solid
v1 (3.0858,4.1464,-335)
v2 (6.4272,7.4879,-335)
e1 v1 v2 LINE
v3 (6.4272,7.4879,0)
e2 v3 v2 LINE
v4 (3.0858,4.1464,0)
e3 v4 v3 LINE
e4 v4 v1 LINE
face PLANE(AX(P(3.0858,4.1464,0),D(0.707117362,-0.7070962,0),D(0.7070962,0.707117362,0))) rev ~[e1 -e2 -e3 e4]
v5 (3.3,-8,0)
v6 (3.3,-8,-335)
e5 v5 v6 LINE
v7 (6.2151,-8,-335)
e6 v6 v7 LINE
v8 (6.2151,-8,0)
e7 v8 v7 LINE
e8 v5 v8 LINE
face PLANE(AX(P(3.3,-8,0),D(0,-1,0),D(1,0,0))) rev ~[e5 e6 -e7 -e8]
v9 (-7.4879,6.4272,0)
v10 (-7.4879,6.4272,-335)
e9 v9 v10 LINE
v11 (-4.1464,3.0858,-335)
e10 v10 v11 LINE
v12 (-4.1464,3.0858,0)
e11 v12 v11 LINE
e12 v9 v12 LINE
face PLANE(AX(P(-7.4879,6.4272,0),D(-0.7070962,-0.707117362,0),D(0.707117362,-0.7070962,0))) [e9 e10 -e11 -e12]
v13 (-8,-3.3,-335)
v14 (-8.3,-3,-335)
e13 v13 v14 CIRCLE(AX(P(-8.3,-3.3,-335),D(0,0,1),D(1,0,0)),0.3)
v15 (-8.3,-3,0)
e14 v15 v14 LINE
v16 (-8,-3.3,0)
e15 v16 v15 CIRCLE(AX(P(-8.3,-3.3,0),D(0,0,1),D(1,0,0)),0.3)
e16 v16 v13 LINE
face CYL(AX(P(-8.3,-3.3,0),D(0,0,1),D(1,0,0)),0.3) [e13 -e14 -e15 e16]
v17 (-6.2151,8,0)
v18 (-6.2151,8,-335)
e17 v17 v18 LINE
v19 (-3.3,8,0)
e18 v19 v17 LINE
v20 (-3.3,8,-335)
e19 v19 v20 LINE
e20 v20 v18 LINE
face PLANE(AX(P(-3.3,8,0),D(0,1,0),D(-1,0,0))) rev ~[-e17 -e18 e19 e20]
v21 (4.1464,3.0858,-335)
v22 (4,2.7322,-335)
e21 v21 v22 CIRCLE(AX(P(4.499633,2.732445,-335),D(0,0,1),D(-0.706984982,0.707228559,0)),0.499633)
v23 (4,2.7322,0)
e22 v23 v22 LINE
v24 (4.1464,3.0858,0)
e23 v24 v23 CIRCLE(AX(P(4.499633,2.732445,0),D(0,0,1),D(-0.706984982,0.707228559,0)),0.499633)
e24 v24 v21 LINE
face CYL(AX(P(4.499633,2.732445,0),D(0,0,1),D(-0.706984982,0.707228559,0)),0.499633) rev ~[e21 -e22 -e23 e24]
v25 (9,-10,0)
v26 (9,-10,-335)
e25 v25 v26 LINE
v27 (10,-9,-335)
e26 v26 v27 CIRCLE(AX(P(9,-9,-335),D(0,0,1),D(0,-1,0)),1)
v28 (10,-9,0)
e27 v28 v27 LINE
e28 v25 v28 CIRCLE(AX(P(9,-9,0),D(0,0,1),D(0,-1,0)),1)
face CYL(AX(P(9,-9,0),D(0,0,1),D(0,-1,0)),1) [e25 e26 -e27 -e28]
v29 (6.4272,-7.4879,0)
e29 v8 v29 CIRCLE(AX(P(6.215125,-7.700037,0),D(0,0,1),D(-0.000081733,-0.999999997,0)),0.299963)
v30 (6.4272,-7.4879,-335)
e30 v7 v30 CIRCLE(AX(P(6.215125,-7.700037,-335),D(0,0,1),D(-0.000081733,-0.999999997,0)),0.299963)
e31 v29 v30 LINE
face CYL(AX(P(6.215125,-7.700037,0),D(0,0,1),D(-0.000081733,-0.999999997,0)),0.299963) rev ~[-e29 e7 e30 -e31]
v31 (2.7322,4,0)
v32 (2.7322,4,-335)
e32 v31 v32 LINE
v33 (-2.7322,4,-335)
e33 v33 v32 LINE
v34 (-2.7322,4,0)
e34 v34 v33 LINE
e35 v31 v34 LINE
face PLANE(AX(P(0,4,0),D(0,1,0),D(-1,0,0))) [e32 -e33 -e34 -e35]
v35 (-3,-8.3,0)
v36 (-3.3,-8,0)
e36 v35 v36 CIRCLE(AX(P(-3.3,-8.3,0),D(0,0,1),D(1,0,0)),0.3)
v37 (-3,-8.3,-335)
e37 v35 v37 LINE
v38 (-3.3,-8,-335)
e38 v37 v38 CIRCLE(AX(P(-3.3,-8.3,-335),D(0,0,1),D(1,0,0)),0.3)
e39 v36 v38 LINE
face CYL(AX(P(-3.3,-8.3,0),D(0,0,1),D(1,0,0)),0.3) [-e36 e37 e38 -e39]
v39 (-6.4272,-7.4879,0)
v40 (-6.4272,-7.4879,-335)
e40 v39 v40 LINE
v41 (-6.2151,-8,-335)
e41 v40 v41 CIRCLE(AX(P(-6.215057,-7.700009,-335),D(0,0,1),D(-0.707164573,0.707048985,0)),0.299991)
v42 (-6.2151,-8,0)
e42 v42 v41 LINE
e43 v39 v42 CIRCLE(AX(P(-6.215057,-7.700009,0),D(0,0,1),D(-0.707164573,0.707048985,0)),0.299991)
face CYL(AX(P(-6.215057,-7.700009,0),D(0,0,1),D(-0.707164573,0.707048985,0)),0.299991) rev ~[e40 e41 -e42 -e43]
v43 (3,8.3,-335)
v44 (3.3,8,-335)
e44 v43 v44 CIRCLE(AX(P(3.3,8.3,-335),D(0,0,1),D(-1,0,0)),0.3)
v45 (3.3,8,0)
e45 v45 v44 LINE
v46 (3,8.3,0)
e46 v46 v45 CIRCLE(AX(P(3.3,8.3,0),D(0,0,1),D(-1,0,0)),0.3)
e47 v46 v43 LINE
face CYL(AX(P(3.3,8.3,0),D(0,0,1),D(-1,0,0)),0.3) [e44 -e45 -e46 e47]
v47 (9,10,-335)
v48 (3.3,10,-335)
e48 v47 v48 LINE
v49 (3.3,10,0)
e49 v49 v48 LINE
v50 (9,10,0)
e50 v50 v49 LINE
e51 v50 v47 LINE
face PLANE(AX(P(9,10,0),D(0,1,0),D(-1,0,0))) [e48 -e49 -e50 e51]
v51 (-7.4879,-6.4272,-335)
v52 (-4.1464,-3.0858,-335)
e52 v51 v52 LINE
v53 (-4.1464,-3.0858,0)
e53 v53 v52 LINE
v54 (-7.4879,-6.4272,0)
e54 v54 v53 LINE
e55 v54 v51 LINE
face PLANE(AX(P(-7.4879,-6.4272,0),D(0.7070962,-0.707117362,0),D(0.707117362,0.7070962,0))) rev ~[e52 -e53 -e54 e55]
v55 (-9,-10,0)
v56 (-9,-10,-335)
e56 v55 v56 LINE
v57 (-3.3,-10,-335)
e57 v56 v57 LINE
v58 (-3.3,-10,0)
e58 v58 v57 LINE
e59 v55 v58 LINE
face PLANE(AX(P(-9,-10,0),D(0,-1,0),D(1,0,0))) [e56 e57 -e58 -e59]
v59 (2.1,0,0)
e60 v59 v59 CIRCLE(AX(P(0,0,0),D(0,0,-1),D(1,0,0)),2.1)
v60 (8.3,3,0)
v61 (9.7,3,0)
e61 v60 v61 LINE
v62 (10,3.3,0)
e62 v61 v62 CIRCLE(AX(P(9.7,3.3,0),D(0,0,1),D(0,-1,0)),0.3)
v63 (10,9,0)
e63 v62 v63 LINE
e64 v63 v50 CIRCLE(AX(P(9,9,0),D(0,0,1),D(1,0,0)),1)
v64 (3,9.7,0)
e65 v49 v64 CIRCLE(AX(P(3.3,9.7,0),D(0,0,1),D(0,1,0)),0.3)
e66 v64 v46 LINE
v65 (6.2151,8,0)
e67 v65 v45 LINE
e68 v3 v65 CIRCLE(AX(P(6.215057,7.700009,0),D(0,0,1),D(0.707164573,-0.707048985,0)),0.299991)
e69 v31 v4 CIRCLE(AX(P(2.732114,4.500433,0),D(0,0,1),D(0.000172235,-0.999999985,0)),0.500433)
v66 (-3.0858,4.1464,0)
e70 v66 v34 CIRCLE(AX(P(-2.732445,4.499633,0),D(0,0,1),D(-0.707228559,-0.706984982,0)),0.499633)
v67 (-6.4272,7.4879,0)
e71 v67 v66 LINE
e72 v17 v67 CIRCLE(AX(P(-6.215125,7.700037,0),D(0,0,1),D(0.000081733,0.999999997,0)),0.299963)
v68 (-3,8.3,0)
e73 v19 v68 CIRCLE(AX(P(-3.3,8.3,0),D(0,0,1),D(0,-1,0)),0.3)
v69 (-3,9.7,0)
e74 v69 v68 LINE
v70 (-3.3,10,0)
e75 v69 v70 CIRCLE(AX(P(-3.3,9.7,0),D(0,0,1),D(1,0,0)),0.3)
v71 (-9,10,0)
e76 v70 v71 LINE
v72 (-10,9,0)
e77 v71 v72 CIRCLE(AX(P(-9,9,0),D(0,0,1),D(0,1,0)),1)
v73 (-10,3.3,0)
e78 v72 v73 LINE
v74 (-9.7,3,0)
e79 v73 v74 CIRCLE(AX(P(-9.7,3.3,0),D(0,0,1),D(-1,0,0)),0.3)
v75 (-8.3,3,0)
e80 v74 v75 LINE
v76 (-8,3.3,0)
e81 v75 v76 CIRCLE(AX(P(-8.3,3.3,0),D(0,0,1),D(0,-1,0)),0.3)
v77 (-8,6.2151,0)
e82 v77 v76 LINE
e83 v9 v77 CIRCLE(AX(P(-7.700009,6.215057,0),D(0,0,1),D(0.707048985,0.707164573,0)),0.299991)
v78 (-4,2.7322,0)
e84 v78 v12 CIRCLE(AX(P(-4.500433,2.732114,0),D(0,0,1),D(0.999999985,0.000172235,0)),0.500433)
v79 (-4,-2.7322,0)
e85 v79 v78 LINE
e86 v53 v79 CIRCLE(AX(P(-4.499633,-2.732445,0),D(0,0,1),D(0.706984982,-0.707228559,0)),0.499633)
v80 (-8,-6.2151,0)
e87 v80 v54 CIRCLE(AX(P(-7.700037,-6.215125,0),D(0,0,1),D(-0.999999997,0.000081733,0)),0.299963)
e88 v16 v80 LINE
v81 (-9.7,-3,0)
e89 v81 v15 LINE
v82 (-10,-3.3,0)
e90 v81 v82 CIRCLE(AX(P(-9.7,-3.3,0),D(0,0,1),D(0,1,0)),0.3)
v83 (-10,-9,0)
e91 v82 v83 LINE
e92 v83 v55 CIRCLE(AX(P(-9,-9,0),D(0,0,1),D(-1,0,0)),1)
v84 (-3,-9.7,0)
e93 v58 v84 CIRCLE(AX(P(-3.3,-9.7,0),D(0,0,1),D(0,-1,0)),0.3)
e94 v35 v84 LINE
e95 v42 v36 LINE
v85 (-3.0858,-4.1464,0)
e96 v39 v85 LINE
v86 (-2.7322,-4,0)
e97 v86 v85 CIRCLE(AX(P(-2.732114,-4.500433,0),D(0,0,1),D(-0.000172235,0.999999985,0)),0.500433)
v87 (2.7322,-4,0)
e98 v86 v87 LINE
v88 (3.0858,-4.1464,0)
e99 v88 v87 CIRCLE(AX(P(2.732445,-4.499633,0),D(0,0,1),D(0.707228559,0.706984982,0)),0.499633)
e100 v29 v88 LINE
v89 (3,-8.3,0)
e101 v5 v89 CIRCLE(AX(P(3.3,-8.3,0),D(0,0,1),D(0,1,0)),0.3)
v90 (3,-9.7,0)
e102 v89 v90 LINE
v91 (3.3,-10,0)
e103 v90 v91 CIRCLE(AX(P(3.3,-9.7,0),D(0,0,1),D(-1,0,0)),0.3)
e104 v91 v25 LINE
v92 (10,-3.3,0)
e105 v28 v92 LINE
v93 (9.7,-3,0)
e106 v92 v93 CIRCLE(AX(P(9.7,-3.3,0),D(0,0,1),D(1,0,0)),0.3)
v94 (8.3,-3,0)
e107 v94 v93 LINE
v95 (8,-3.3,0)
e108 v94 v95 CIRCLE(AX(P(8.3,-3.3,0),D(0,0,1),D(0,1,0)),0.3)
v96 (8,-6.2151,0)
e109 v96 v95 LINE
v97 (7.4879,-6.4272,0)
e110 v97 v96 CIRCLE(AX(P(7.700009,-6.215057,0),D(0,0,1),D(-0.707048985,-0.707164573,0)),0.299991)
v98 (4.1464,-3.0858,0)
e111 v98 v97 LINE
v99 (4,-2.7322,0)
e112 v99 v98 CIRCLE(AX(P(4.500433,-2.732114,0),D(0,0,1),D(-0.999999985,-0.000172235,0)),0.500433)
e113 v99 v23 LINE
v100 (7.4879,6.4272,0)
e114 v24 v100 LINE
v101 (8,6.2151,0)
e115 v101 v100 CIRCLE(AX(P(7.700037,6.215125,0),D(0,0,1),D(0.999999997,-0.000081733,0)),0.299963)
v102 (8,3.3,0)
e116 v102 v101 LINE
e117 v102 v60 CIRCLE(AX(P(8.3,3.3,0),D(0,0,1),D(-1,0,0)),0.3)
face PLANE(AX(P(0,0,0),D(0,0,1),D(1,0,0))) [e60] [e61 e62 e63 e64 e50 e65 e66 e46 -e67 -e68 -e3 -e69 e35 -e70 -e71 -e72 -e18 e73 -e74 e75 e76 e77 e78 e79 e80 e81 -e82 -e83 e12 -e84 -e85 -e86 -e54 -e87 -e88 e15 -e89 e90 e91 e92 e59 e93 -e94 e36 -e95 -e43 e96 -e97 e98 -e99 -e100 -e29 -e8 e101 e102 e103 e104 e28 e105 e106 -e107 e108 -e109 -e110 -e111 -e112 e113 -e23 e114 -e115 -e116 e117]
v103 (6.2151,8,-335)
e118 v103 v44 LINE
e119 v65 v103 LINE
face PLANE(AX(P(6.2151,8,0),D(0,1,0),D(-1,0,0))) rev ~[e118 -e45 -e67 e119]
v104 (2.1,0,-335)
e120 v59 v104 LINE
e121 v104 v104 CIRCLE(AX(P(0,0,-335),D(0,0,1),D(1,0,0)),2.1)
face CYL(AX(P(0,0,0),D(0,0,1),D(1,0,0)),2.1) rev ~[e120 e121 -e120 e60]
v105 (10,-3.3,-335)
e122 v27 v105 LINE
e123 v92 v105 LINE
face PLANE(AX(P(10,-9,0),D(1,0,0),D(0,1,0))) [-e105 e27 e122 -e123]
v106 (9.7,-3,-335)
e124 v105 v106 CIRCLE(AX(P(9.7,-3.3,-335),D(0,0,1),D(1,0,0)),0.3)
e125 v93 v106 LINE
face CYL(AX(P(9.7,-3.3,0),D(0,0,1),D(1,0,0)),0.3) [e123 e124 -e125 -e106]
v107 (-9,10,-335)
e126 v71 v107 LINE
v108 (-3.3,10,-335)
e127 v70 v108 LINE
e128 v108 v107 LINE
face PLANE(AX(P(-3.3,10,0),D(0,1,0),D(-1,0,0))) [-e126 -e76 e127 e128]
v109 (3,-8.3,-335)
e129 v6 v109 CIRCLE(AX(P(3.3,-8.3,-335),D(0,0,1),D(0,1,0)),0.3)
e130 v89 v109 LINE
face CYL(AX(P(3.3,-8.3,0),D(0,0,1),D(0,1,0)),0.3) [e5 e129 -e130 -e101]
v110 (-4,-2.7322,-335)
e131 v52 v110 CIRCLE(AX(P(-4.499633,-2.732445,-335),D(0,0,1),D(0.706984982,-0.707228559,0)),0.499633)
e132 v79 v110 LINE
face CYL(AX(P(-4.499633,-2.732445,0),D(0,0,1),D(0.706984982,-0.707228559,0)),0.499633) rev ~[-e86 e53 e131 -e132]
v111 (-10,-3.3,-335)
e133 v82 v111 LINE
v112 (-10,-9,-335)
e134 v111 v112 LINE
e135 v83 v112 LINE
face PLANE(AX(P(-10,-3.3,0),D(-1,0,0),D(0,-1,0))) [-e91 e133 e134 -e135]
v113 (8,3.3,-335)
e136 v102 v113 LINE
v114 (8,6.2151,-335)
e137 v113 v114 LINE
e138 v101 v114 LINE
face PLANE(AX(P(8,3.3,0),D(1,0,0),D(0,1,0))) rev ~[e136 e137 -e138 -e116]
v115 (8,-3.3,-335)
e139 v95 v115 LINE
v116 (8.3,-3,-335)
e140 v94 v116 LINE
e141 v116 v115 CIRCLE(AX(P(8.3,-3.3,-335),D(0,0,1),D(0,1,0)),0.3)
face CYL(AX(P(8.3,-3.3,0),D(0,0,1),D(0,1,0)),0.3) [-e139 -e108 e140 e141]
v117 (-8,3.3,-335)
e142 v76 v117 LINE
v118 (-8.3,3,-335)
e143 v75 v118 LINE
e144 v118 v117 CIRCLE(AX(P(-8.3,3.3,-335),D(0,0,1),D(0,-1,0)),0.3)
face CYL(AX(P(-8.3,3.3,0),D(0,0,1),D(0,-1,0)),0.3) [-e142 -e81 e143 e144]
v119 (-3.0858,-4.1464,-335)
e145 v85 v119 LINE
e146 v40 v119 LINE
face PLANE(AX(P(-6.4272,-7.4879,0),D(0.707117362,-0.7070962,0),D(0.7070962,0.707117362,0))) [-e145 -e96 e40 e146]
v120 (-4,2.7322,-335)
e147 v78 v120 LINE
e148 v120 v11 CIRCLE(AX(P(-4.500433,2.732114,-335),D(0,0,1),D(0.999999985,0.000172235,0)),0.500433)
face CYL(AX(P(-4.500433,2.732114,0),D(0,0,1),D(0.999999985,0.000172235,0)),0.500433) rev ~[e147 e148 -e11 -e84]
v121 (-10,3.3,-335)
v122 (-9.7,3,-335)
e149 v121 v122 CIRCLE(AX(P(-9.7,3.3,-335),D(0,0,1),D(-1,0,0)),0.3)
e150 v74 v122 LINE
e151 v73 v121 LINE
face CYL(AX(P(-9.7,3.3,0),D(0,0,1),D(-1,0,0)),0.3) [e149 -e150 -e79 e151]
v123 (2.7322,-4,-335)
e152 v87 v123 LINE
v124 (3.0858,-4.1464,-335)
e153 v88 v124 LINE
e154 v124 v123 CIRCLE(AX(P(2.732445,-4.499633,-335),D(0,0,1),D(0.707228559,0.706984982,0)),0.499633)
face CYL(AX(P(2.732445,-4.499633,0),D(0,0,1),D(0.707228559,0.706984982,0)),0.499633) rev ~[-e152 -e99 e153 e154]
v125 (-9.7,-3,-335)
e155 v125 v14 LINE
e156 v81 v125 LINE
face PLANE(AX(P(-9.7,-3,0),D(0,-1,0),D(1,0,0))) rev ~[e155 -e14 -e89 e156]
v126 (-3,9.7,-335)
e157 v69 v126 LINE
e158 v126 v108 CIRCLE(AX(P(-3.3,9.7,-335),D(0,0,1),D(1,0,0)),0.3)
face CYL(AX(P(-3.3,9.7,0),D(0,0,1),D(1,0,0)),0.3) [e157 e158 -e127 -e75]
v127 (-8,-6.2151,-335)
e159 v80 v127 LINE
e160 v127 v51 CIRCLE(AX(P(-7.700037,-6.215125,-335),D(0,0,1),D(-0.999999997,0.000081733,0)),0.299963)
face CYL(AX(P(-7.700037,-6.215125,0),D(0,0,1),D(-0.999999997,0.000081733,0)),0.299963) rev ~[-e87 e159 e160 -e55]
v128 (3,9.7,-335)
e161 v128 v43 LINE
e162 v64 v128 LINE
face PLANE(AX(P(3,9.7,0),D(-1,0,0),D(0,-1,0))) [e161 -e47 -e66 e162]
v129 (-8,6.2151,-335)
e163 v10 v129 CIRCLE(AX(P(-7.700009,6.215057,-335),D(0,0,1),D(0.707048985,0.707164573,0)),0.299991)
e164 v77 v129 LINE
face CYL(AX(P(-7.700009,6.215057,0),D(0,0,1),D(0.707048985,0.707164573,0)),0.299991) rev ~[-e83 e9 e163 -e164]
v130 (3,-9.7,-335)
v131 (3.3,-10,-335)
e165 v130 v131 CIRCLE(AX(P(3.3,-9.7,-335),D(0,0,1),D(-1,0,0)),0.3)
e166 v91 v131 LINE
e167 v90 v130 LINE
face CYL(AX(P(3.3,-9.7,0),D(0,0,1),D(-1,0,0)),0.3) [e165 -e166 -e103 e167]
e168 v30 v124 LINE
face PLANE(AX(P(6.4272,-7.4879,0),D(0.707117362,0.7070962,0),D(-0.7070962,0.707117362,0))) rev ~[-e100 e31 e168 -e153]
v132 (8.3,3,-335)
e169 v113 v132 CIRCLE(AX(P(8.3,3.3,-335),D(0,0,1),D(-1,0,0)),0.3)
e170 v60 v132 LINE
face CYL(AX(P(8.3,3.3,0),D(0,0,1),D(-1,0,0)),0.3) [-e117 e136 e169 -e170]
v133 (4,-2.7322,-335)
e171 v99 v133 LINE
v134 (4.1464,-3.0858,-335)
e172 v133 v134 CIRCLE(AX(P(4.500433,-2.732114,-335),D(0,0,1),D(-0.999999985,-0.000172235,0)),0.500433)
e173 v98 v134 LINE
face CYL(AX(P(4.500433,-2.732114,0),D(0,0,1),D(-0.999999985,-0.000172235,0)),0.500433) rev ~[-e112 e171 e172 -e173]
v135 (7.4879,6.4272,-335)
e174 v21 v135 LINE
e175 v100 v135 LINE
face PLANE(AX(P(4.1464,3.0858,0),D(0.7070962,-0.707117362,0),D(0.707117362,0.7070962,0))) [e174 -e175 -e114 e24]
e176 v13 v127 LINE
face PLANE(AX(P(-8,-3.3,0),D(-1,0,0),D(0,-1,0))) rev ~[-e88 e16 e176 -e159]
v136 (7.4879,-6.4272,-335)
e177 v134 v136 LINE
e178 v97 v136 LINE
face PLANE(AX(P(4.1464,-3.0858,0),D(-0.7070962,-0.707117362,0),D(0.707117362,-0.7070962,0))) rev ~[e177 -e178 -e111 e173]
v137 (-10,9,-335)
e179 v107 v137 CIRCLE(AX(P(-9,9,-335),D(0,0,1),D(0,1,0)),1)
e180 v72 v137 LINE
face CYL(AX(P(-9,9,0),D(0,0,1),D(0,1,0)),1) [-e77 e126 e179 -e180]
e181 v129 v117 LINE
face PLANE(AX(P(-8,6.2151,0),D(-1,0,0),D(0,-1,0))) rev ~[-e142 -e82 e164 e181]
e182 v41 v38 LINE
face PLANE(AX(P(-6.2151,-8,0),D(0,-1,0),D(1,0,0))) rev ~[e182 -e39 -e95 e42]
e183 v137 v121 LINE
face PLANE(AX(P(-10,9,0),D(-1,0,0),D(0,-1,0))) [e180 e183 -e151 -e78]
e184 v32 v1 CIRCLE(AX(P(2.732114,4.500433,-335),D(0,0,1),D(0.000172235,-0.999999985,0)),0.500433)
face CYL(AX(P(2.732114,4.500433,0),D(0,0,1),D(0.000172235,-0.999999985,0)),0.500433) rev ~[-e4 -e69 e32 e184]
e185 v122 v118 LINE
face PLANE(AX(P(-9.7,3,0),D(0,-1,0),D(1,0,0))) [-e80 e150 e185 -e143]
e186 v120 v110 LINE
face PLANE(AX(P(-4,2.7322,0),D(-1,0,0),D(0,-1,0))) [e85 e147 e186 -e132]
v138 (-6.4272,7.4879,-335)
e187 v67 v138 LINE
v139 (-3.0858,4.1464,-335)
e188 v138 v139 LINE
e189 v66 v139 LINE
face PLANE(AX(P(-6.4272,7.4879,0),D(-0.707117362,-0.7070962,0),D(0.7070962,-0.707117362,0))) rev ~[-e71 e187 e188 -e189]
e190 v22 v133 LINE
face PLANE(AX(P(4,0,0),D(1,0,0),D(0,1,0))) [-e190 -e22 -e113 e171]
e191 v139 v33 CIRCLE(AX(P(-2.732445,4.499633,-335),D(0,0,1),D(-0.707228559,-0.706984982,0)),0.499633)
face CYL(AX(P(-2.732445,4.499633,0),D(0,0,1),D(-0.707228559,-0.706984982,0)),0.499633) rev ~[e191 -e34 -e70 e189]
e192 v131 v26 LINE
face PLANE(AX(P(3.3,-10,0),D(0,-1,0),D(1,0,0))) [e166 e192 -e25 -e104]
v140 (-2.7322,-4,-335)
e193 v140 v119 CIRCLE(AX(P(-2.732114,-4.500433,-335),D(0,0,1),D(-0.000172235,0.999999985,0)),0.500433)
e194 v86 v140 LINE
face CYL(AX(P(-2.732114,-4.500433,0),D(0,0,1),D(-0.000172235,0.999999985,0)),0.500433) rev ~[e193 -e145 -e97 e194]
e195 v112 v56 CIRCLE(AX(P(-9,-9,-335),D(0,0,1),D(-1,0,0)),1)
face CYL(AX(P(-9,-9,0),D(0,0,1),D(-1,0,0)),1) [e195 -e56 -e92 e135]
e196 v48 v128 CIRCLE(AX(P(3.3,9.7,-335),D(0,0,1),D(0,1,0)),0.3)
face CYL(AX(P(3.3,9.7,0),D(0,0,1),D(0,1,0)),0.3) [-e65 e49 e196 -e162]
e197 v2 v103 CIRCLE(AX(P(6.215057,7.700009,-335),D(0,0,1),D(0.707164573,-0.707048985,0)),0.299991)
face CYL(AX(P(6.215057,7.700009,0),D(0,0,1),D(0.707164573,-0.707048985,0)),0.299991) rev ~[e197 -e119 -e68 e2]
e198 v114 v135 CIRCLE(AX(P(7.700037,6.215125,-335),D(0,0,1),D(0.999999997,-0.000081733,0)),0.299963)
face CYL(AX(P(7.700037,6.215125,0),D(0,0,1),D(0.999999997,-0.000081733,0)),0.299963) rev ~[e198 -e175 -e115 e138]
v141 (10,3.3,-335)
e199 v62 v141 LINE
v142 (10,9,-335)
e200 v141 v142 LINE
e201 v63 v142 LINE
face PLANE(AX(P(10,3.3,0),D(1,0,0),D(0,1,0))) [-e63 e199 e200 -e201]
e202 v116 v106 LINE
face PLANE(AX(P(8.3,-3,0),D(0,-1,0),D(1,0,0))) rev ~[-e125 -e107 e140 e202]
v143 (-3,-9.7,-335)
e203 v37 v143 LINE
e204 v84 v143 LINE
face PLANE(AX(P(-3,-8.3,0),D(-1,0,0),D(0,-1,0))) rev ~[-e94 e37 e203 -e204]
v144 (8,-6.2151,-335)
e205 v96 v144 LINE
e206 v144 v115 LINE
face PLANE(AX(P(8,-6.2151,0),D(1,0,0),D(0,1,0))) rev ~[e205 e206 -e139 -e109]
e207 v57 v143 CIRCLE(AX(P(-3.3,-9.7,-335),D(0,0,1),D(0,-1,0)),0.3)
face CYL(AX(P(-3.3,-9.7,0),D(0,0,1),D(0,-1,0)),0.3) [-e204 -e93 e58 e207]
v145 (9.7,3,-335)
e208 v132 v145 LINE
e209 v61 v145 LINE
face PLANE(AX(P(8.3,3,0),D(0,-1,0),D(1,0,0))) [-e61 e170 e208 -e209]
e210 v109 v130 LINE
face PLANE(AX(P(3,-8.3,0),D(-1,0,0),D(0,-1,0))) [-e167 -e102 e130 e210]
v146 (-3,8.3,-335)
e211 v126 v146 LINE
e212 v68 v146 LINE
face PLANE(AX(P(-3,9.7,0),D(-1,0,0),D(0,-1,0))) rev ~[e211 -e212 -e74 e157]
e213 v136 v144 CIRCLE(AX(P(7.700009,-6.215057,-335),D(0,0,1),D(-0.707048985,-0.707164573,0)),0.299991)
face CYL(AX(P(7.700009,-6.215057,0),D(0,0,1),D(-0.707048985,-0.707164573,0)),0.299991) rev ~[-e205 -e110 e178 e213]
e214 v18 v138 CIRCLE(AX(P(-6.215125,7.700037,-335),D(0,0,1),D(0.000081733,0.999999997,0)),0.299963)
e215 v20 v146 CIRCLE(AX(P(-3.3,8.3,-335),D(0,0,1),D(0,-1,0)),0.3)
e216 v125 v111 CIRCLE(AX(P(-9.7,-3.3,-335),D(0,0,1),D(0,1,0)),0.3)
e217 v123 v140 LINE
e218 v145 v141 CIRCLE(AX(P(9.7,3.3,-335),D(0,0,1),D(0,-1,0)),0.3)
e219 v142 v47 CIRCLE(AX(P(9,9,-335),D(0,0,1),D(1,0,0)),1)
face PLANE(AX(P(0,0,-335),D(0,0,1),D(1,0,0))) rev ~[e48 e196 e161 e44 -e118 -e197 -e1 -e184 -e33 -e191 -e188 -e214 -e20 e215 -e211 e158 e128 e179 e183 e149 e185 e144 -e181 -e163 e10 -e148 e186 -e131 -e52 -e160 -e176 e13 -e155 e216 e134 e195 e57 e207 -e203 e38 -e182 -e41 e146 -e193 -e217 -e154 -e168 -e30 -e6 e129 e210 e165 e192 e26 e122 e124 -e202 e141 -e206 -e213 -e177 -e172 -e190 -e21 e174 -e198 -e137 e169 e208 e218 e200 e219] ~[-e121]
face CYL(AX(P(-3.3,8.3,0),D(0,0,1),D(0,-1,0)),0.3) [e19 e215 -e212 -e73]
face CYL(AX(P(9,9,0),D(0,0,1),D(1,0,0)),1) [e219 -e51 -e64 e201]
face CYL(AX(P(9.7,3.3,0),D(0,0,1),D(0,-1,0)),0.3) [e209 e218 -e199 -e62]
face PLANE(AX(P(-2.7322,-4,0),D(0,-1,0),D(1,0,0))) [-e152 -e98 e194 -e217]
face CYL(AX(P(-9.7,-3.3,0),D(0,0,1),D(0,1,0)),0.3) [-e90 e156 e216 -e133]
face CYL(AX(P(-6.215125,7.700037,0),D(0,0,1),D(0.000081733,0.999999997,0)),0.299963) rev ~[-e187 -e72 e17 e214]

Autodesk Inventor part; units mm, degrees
ref_plane "YZ Plane" through (0, 0, 0) normal (1, 0, 0) x (0, 1, 0)
ref_plane "XZ Plane" through (0, 0, 0) normal (0, 1, 0) x (-1, 0, 0)
ref_plane "XY Plane" through (0, 0, 0) normal (0, 0, 1) x (1, 0, 0)
sketch "Skizze1" plane through (0, 0, 0) normal (0, 0, 1) x (1, 0, 0)
  line L0 (-20.0059, 0) -> (20.0059, 0) projected
  line L1 (0, -20.0059) -> (0, 20.0059) projected
  line L2 (-14.2899, 0) -> (14.2899, 0)
  line L3 (0, -14.2899) -> (0, 14.2899)
  line L4 (-10, -10) -> (10, 10) construction
  line L5 (10, -10) -> (-10, 10) construction
  line L6 (-8, -8) -> (8, 8) construction
  line L7 (8, -8) -> (-8, 8) construction
  line L8 (-2.7322, -4) -> (2.7322, -4)
  line L9 (4, -2.7322) -> (4, 2.7322)
  line L10 (2.7322, 4) -> (-2.7322, 4)
  line L11 (-4, 2.7322) -> (-4, -2.7322)
  line L12 (-4, -4) -> (4, 4) construction
  line L13 (4, -4) -> (-4, 4) construction
  arc A0 (-9, 10) -> (-10, 9) centre (-9, 9) ccw
  arc A1 (10, 9) -> (9, 10) centre (9, 9) ccw
  arc A2 (9, -10) -> (10, -9) centre (9, -9) ccw
  arc A3 (-10, -9) -> (-9, -10) centre (-9, -9) ccw
  line L14 (-3, 9.7) -> (-3, 8.3)
  line L15 (3, 9.7) -> (3, 8.3)
  line L16 (6.2151, 8) -> (3.3, 8)
  line L17 (-3.3, 8) -> (-6.2151, 8)
  line L18 (9, 10) -> (3.3, 10)
  line L19 (-3.3, 10) -> (-9, 10)
  line L20 (-9.7, -3) -> (-8.3, -3)
  line L21 (-9.7, 3) -> (-8.3, 3)
  line L22 (-8, 6.2151) -> (-8, 3.3)
  line L23 (-8, -3.3) -> (-8, -6.2151)
  line L24 (-10, 9) -> (-10, 3.3)
  line L25 (-10, -3.3) -> (-10, -9)
  line L26 (-3, -8.3) -> (-3, -9.7)
  line L27 (3, -8.3) -> (3, -9.7)
  line L28 (-9, -10) -> (-3.3, -10)
  line L29 (3.3, -10) -> (9, -10)
  line L30 (-6.2151, -8) -> (-3.3, -8)
  line L31 (3.3, -8) -> (6.2151, -8)
  line L32 (8.3, 3) -> (9.7, 3)
  line L33 (8.3, -3) -> (9.7, -3)
  line L34 (8, -6.2151) -> (8, -3.3)
  line L35 (8, 3.3) -> (8, 6.2151)
  line L36 (10, -9) -> (10, -3.3)
  line L37 (10, 3.3) -> (10, 9)
  arc A4 (-10, 3.3) -> (-9.7, 3) centre (-9.7, 3.3) ccw
  arc A5 (-8.3, 3) -> (-8, 3.3) centre (-8.3, 3.3) ccw
  arc A6 (-9.7, -3) -> (-10, -3.3) centre (-9.7, -3.3) ccw
  arc A7 (-8, -3.3) -> (-8.3, -3) centre (-8.3, -3.3) ccw
  arc A8 (-3.3, -10) -> (-3, -9.7) centre (-3.3, -9.7) ccw
  arc A9 (-3, -8.3) -> (-3.3, -8) centre (-3.3, -8.3) ccw
  arc A10 (3, -9.7) -> (3.3, -10) centre (3.3, -9.7) ccw
  arc A11 (3.3, -8) -> (3, -8.3) centre (3.3, -8.3) ccw
  arc A12 (8.3, -3) -> (8, -3.3) centre (8.3, -3.3) ccw
  arc A13 (10, -3.3) -> (9.7, -3) centre (9.7, -3.3) ccw
  arc A14 (8, 3.3) -> (8.3, 3) centre (8.3, 3.3) ccw
  arc A15 (9.7, 3) -> (10, 3.3) centre (9.7, 3.3) ccw
  arc A16 (3, 8.3) -> (3.3, 8) centre (3.3, 8.3) ccw
  arc A17 (3.3, 10) -> (3, 9.7) centre (3.3, 9.7) ccw
  arc A18 (-3.3, 8) -> (-3, 8.3) centre (-3.3, 8.3) ccw
  arc A19 (-3, 9.7) -> (-3.3, 10) centre (-3.3, 9.7) ccw
  line L38 (-7.4879, 6.4272) -> (-4.1464, 3.0858)
  line L39 (-6.4272, 7.4879) -> (-3.0858, 4.1464)
  line L40 (-6.4272, -7.4879) -> (-3.0858, -4.1464)
  line L41 (-7.4879, -6.4272) -> (-4.1464, -3.0858)
  arc A20 (-7.4879, 6.4272) -> (-8, 6.2151) centre (-7.7, 6.2151) ccw
  arc A21 (-6.2151, 8) -> (-6.4272, 7.4879) centre (-6.2151, 7.7) ccw
  arc A22 (-8, -6.2151) -> (-7.4879, -6.4272) centre (-7.7, -6.2151) ccw
  arc A23 (-6.4272, -7.4879) -> (-6.2151, -8) centre (-6.2151, -7.7) ccw
  line L42 (6.4272, -7.4879) -> (3.0858, -4.1464)
  line L43 (4.1464, -3.0858) -> (7.4879, -6.4272)
  arc A24 (6.2151, -8) -> (6.4272, -7.4879) centre (6.2151, -7.7) ccw
  arc A25 (7.4879, -6.4272) -> (8, -6.2151) centre (7.7, -6.2151) ccw
  line L44 (4.1464, 3.0858) -> (7.4879, 6.4272)
  line L45 (3.0858, 4.1464) -> (6.4272, 7.4879)
  arc A26 (6.4272, 7.4879) -> (6.2151, 8) centre (6.2151, 7.7) ccw
  arc A27 (8, 6.2151) -> (7.4879, 6.4272) centre (7.7, 6.2151) ccw
  arc A28 (-3.0858, 4.1464) -> (-2.7322, 4) centre (-2.7322, 4.5) ccw
  arc A29 (-4, 2.7322) -> (-4.1464, 3.0858) centre (-4.5, 2.7322) ccw
  arc A30 (2.7322, 4) -> (3.0858, 4.1464) centre (2.7322, 4.5) ccw
  arc A31 (4.1464, 3.0858) -> (4, 2.7322) centre (4.5, 2.7322) ccw
  arc A32 (-4.1464, -3.0858) -> (-4, -2.7322) centre (-4.5, -2.7322) ccw
  arc A33 (-2.7322, -4) -> (-3.0858, -4.1464) centre (-2.7322, -4.5) ccw
  arc A34 (3.0858, -4.1464) -> (2.7322, -4) centre (2.7322, -4.5) ccw
  arc A35 (4, -2.7322) -> (4.1464, -3.0858) centre (4.5, -2.7322) ccw
  circle A36 centre (0, 0) radius 2.1
  point P0 (3, 8.9014)
  point P1 (-3, 9.1415)
  point P2 (-8.9764, -3)
  point P3 (-9.1265, 3)
  point P4 (3, -9.1251)
  point P5 (-3, -9.1251)
  point P6 (9.1101, -3)
  point P7 (9.1101, 3)
  dimension "d0" = 20
  dimension "d1" = 20
  dimension "d2" = 16
  dimension "d3" = 16
  dimension "d4" = 8
  dimension "d5" = 8
  dimension "d6" = 1
  dimension "d7" = 6
  dimension "d8" = 6
  dimension "d9" = 6
  dimension "d10" = 6
  dimension "d11" = 0.3
  dimension "d12" = 1.5
  dimension "d13" = 1.5
  dimension "d14" = 0.3
  dimension "d15" = 1.5
  dimension "d16" = 0.3
  dimension "d17" = 1.5
  dimension "d18" = 0.3
  dimension "d19" = 0.5
  dimension "d20" = 4.2
  dimension "d21" = 45
  dimension "d22" = 10
  dimension "d23" = 10
  dimension "d24" = 4
  dimension "d25" = 4
  dimension "d26" = 10
  dimension "d27" = 8
  dimension "d28" = 4
  dimension "d29" = 4
  dimension "d30" = 10
  dimension "d31" = 9.1101
  dimension "d32" = 8
  dimension "d33" = 4
  dimension "d34" = 8.9014
  dimension "d35" = 9.1251
  dimension "d36" = 9.1415
  dimension "d37" = 8.9764
  dimension "d38" = 9.1265
extrude "Extrusion1" add sketch "Skizze1" against normal blind 335
sketch "Skizze2" plane through (0, 0, 0) normal (0, 0, 1) x (1, 0, 0)
  arc A0 (-4.1464, -3.0858) -> (-4, -2.7322) centre (-4.5, -2.7322) ccw projected
  line L0 (-4.1464, -3.0858) -> (-7.4879, -6.4272) projected
  arc A1 (-8, -6.2151) -> (-7.4879, -6.4272) centre (-7.7, -6.2151) ccw projected
  line L1 (-8, -6.2151) -> (-8, -3.3) projected
  arc A2 (-8, -3.3) -> (-8.3, -3) centre (-8.3, -3.3) ccw projected
  line L2 (-8.3, -3) -> (-9.7, -3) projected
  arc A3 (-9.7, -3) -> (-10, -3.3) centre (-9.7, -3.3) ccw projected
  line L3 (-10, -3.3) -> (-10, -9) projected
  arc A4 (-10, -9) -> (-9, -10) centre (-9, -9) ccw projected
  line L4 (-9, -10) -> (-3.3, -10) projected
  arc A5 (-3.3, -10) -> (-3, -9.7) centre (-3.3, -9.7) ccw projected
  line L5 (-3, -9.7) -> (-3, -8.3) projected
  arc A6 (-3, -8.3) -> (-3.3, -8) centre (-3.3, -8.3) ccw projected
  line L6 (-3.3, -8) -> (-6.2151, -8) projected
  arc A7 (-6.4272, -7.4879) -> (-6.2151, -8) centre (-6.2151, -7.7) ccw projected
  line L7 (-6.4272, -7.4879) -> (-3.0858, -4.1464) projected
  arc A8 (-2.7322, -4) -> (-3.0858, -4.1464) centre (-2.7322, -4.5) ccw projected
  line L8 (-2.7322, -4) -> (2.7322, -4) projected
  arc A9 (3.0858, -4.1464) -> (2.7322, -4) centre (2.7322, -4.5) ccw projected
  line L9 (3.0858, -4.1464) -> (6.4272, -7.4879) projected
  arc A10 (6.2151, -8) -> (6.4272, -7.4879) centre (6.2151, -7.7) ccw projected
  line L10 (6.2151, -8) -> (3.3, -8) projected
  arc A11 (3.3, -8) -> (3, -8.3) centre (3.3, -8.3) ccw projected
  line L11 (3, -8.3) -> (3, -9.7) projected
  arc A12 (3, -9.7) -> (3.3, -10) centre (3.3, -9.7) ccw projected
  line L12 (3.3, -10) -> (9, -10) projected
  arc A13 (9, -10) -> (10, -9) centre (9, -9) ccw projected
  line L13 (10, -9) -> (10, -3.3) projected
  arc A14 (10, -3.3) -> (9.7, -3) centre (9.7, -3.3) ccw projected
  line L14 (9.7, -3) -> (8.3, -3) projected
  arc A15 (8.3, -3) -> (8, -3.3) centre (8.3, -3.3) ccw projected
  line L15 (8, -3.3) -> (8, -6.2151) projected
  arc A16 (7.4879, -6.4272) -> (8, -6.2151) centre (7.7, -6.2151) ccw projected
  line L16 (7.4879, -6.4272) -> (4.1464, -3.0858) projected
  arc A17 (4, -2.7322) -> (4.1464, -3.0858) centre (4.5, -2.7322) ccw projected
  line L17 (4, -2.7322) -> (4, 2.7322) projected
  arc A18 (4.1464, 3.0858) -> (4, 2.7322) centre (4.5, 2.7322) ccw projected
  line L18 (4.1464, 3.0858) -> (7.4879, 6.4272) projected
  arc A19 (8, 6.2151) -> (7.4879, 6.4272) centre (7.7, 6.2151) ccw projected
  line L19 (8, 6.2151) -> (8, 3.3) projected
  arc A20 (8, 3.3) -> (8.3, 3) centre (8.3, 3.3) ccw projected
  line L20 (8.3, 3) -> (9.7, 3) projected
  arc A21 (9.7, 3) -> (10, 3.3) centre (9.7, 3.3) ccw projected
  line L21 (10, 3.3) -> (10, 9) projected
  arc A22 (10, 9) -> (9, 10) centre (9, 9) ccw projected
  line L22 (9, 10) -> (3.3, 10) projected
  arc A23 (3.3, 10) -> (3, 9.7) centre (3.3, 9.7) ccw projected
  line L23 (3, 9.7) -> (3, 8.3) projected
  arc A24 (3, 8.3) -> (3.3, 8) centre (3.3, 8.3) ccw projected
  line L24 (3.3, 8) -> (6.2151, 8) projected
  arc A25 (6.4272, 7.4879) -> (6.2151, 8) centre (6.2151, 7.7) ccw projected
  line L25 (6.4272, 7.4879) -> (3.0858, 4.1464) projected
  arc A26 (2.7322, 4) -> (3.0858, 4.1464) centre (2.7322, 4.5) ccw projected
  line L26 (2.7322, 4) -> (-2.7322, 4) projected
  arc A27 (-3.0858, 4.1464) -> (-2.7322, 4) centre (-2.7322, 4.5) ccw projected
  line L27 (-3.0858, 4.1464) -> (-6.4272, 7.4879) projected
  arc A28 (-6.2151, 8) -> (-6.4272, 7.4879) centre (-6.2151, 7.7) ccw projected
  line L28 (-6.2151, 8) -> (-3.3, 8) projected
  arc A29 (-3.3, 8) -> (-3, 8.3) centre (-3.3, 8.3) ccw projected
  line L29 (-3, 8.3) -> (-3, 9.7) projected
  arc A30 (-3, 9.7) -> (-3.3, 10) centre (-3.3, 9.7) ccw projected
  line L30 (-3.3, 10) -> (-9, 10) projected
  arc A31 (-9, 10) -> (-10, 9) centre (-9, 9) ccw projected
  line L31 (-10, 9) -> (-10, 3.3) projected
  arc A32 (-10, 3.3) -> (-9.7, 3) centre (-9.7, 3.3) ccw projected
  line L32 (-9.7, 3) -> (-8.3, 3) projected
  arc A33 (-8.3, 3) -> (-8, 3.3) centre (-8.3, 3.3) ccw projected
  line L33 (-8, 3.3) -> (-8, 6.2151) projected
  arc A34 (-7.4879, 6.4272) -> (-8, 6.2151) centre (-7.7, 6.2151) ccw projected
  line L34 (-7.4879, 6.4272) -> (-4.1464, 3.0858) projected
  arc A35 (-4, 2.7322) -> (-4.1464, 3.0858) centre (-4.5, 2.7322) ccw projected
  line L35 (-4, 2.7322) -> (-4, -2.7322) projected
  line L36 (-14.2899, 0) -> (14.2899, 0) projected
  line L37 (0, -14.2899) -> (0, 14.2899) projected
  circle A36 centre (0, 0) radius 2.1
  dimension "d41" = 4.2
extrude "Extrusion2" cut sketch "Skizze2" against normal blind 335 contours A36 L37 L36 | L36 L37 A36 | L37 A36 L36 | L36 A36 L37
properties part number "I Strebe waagrecht" material "Aluminium 6061"
